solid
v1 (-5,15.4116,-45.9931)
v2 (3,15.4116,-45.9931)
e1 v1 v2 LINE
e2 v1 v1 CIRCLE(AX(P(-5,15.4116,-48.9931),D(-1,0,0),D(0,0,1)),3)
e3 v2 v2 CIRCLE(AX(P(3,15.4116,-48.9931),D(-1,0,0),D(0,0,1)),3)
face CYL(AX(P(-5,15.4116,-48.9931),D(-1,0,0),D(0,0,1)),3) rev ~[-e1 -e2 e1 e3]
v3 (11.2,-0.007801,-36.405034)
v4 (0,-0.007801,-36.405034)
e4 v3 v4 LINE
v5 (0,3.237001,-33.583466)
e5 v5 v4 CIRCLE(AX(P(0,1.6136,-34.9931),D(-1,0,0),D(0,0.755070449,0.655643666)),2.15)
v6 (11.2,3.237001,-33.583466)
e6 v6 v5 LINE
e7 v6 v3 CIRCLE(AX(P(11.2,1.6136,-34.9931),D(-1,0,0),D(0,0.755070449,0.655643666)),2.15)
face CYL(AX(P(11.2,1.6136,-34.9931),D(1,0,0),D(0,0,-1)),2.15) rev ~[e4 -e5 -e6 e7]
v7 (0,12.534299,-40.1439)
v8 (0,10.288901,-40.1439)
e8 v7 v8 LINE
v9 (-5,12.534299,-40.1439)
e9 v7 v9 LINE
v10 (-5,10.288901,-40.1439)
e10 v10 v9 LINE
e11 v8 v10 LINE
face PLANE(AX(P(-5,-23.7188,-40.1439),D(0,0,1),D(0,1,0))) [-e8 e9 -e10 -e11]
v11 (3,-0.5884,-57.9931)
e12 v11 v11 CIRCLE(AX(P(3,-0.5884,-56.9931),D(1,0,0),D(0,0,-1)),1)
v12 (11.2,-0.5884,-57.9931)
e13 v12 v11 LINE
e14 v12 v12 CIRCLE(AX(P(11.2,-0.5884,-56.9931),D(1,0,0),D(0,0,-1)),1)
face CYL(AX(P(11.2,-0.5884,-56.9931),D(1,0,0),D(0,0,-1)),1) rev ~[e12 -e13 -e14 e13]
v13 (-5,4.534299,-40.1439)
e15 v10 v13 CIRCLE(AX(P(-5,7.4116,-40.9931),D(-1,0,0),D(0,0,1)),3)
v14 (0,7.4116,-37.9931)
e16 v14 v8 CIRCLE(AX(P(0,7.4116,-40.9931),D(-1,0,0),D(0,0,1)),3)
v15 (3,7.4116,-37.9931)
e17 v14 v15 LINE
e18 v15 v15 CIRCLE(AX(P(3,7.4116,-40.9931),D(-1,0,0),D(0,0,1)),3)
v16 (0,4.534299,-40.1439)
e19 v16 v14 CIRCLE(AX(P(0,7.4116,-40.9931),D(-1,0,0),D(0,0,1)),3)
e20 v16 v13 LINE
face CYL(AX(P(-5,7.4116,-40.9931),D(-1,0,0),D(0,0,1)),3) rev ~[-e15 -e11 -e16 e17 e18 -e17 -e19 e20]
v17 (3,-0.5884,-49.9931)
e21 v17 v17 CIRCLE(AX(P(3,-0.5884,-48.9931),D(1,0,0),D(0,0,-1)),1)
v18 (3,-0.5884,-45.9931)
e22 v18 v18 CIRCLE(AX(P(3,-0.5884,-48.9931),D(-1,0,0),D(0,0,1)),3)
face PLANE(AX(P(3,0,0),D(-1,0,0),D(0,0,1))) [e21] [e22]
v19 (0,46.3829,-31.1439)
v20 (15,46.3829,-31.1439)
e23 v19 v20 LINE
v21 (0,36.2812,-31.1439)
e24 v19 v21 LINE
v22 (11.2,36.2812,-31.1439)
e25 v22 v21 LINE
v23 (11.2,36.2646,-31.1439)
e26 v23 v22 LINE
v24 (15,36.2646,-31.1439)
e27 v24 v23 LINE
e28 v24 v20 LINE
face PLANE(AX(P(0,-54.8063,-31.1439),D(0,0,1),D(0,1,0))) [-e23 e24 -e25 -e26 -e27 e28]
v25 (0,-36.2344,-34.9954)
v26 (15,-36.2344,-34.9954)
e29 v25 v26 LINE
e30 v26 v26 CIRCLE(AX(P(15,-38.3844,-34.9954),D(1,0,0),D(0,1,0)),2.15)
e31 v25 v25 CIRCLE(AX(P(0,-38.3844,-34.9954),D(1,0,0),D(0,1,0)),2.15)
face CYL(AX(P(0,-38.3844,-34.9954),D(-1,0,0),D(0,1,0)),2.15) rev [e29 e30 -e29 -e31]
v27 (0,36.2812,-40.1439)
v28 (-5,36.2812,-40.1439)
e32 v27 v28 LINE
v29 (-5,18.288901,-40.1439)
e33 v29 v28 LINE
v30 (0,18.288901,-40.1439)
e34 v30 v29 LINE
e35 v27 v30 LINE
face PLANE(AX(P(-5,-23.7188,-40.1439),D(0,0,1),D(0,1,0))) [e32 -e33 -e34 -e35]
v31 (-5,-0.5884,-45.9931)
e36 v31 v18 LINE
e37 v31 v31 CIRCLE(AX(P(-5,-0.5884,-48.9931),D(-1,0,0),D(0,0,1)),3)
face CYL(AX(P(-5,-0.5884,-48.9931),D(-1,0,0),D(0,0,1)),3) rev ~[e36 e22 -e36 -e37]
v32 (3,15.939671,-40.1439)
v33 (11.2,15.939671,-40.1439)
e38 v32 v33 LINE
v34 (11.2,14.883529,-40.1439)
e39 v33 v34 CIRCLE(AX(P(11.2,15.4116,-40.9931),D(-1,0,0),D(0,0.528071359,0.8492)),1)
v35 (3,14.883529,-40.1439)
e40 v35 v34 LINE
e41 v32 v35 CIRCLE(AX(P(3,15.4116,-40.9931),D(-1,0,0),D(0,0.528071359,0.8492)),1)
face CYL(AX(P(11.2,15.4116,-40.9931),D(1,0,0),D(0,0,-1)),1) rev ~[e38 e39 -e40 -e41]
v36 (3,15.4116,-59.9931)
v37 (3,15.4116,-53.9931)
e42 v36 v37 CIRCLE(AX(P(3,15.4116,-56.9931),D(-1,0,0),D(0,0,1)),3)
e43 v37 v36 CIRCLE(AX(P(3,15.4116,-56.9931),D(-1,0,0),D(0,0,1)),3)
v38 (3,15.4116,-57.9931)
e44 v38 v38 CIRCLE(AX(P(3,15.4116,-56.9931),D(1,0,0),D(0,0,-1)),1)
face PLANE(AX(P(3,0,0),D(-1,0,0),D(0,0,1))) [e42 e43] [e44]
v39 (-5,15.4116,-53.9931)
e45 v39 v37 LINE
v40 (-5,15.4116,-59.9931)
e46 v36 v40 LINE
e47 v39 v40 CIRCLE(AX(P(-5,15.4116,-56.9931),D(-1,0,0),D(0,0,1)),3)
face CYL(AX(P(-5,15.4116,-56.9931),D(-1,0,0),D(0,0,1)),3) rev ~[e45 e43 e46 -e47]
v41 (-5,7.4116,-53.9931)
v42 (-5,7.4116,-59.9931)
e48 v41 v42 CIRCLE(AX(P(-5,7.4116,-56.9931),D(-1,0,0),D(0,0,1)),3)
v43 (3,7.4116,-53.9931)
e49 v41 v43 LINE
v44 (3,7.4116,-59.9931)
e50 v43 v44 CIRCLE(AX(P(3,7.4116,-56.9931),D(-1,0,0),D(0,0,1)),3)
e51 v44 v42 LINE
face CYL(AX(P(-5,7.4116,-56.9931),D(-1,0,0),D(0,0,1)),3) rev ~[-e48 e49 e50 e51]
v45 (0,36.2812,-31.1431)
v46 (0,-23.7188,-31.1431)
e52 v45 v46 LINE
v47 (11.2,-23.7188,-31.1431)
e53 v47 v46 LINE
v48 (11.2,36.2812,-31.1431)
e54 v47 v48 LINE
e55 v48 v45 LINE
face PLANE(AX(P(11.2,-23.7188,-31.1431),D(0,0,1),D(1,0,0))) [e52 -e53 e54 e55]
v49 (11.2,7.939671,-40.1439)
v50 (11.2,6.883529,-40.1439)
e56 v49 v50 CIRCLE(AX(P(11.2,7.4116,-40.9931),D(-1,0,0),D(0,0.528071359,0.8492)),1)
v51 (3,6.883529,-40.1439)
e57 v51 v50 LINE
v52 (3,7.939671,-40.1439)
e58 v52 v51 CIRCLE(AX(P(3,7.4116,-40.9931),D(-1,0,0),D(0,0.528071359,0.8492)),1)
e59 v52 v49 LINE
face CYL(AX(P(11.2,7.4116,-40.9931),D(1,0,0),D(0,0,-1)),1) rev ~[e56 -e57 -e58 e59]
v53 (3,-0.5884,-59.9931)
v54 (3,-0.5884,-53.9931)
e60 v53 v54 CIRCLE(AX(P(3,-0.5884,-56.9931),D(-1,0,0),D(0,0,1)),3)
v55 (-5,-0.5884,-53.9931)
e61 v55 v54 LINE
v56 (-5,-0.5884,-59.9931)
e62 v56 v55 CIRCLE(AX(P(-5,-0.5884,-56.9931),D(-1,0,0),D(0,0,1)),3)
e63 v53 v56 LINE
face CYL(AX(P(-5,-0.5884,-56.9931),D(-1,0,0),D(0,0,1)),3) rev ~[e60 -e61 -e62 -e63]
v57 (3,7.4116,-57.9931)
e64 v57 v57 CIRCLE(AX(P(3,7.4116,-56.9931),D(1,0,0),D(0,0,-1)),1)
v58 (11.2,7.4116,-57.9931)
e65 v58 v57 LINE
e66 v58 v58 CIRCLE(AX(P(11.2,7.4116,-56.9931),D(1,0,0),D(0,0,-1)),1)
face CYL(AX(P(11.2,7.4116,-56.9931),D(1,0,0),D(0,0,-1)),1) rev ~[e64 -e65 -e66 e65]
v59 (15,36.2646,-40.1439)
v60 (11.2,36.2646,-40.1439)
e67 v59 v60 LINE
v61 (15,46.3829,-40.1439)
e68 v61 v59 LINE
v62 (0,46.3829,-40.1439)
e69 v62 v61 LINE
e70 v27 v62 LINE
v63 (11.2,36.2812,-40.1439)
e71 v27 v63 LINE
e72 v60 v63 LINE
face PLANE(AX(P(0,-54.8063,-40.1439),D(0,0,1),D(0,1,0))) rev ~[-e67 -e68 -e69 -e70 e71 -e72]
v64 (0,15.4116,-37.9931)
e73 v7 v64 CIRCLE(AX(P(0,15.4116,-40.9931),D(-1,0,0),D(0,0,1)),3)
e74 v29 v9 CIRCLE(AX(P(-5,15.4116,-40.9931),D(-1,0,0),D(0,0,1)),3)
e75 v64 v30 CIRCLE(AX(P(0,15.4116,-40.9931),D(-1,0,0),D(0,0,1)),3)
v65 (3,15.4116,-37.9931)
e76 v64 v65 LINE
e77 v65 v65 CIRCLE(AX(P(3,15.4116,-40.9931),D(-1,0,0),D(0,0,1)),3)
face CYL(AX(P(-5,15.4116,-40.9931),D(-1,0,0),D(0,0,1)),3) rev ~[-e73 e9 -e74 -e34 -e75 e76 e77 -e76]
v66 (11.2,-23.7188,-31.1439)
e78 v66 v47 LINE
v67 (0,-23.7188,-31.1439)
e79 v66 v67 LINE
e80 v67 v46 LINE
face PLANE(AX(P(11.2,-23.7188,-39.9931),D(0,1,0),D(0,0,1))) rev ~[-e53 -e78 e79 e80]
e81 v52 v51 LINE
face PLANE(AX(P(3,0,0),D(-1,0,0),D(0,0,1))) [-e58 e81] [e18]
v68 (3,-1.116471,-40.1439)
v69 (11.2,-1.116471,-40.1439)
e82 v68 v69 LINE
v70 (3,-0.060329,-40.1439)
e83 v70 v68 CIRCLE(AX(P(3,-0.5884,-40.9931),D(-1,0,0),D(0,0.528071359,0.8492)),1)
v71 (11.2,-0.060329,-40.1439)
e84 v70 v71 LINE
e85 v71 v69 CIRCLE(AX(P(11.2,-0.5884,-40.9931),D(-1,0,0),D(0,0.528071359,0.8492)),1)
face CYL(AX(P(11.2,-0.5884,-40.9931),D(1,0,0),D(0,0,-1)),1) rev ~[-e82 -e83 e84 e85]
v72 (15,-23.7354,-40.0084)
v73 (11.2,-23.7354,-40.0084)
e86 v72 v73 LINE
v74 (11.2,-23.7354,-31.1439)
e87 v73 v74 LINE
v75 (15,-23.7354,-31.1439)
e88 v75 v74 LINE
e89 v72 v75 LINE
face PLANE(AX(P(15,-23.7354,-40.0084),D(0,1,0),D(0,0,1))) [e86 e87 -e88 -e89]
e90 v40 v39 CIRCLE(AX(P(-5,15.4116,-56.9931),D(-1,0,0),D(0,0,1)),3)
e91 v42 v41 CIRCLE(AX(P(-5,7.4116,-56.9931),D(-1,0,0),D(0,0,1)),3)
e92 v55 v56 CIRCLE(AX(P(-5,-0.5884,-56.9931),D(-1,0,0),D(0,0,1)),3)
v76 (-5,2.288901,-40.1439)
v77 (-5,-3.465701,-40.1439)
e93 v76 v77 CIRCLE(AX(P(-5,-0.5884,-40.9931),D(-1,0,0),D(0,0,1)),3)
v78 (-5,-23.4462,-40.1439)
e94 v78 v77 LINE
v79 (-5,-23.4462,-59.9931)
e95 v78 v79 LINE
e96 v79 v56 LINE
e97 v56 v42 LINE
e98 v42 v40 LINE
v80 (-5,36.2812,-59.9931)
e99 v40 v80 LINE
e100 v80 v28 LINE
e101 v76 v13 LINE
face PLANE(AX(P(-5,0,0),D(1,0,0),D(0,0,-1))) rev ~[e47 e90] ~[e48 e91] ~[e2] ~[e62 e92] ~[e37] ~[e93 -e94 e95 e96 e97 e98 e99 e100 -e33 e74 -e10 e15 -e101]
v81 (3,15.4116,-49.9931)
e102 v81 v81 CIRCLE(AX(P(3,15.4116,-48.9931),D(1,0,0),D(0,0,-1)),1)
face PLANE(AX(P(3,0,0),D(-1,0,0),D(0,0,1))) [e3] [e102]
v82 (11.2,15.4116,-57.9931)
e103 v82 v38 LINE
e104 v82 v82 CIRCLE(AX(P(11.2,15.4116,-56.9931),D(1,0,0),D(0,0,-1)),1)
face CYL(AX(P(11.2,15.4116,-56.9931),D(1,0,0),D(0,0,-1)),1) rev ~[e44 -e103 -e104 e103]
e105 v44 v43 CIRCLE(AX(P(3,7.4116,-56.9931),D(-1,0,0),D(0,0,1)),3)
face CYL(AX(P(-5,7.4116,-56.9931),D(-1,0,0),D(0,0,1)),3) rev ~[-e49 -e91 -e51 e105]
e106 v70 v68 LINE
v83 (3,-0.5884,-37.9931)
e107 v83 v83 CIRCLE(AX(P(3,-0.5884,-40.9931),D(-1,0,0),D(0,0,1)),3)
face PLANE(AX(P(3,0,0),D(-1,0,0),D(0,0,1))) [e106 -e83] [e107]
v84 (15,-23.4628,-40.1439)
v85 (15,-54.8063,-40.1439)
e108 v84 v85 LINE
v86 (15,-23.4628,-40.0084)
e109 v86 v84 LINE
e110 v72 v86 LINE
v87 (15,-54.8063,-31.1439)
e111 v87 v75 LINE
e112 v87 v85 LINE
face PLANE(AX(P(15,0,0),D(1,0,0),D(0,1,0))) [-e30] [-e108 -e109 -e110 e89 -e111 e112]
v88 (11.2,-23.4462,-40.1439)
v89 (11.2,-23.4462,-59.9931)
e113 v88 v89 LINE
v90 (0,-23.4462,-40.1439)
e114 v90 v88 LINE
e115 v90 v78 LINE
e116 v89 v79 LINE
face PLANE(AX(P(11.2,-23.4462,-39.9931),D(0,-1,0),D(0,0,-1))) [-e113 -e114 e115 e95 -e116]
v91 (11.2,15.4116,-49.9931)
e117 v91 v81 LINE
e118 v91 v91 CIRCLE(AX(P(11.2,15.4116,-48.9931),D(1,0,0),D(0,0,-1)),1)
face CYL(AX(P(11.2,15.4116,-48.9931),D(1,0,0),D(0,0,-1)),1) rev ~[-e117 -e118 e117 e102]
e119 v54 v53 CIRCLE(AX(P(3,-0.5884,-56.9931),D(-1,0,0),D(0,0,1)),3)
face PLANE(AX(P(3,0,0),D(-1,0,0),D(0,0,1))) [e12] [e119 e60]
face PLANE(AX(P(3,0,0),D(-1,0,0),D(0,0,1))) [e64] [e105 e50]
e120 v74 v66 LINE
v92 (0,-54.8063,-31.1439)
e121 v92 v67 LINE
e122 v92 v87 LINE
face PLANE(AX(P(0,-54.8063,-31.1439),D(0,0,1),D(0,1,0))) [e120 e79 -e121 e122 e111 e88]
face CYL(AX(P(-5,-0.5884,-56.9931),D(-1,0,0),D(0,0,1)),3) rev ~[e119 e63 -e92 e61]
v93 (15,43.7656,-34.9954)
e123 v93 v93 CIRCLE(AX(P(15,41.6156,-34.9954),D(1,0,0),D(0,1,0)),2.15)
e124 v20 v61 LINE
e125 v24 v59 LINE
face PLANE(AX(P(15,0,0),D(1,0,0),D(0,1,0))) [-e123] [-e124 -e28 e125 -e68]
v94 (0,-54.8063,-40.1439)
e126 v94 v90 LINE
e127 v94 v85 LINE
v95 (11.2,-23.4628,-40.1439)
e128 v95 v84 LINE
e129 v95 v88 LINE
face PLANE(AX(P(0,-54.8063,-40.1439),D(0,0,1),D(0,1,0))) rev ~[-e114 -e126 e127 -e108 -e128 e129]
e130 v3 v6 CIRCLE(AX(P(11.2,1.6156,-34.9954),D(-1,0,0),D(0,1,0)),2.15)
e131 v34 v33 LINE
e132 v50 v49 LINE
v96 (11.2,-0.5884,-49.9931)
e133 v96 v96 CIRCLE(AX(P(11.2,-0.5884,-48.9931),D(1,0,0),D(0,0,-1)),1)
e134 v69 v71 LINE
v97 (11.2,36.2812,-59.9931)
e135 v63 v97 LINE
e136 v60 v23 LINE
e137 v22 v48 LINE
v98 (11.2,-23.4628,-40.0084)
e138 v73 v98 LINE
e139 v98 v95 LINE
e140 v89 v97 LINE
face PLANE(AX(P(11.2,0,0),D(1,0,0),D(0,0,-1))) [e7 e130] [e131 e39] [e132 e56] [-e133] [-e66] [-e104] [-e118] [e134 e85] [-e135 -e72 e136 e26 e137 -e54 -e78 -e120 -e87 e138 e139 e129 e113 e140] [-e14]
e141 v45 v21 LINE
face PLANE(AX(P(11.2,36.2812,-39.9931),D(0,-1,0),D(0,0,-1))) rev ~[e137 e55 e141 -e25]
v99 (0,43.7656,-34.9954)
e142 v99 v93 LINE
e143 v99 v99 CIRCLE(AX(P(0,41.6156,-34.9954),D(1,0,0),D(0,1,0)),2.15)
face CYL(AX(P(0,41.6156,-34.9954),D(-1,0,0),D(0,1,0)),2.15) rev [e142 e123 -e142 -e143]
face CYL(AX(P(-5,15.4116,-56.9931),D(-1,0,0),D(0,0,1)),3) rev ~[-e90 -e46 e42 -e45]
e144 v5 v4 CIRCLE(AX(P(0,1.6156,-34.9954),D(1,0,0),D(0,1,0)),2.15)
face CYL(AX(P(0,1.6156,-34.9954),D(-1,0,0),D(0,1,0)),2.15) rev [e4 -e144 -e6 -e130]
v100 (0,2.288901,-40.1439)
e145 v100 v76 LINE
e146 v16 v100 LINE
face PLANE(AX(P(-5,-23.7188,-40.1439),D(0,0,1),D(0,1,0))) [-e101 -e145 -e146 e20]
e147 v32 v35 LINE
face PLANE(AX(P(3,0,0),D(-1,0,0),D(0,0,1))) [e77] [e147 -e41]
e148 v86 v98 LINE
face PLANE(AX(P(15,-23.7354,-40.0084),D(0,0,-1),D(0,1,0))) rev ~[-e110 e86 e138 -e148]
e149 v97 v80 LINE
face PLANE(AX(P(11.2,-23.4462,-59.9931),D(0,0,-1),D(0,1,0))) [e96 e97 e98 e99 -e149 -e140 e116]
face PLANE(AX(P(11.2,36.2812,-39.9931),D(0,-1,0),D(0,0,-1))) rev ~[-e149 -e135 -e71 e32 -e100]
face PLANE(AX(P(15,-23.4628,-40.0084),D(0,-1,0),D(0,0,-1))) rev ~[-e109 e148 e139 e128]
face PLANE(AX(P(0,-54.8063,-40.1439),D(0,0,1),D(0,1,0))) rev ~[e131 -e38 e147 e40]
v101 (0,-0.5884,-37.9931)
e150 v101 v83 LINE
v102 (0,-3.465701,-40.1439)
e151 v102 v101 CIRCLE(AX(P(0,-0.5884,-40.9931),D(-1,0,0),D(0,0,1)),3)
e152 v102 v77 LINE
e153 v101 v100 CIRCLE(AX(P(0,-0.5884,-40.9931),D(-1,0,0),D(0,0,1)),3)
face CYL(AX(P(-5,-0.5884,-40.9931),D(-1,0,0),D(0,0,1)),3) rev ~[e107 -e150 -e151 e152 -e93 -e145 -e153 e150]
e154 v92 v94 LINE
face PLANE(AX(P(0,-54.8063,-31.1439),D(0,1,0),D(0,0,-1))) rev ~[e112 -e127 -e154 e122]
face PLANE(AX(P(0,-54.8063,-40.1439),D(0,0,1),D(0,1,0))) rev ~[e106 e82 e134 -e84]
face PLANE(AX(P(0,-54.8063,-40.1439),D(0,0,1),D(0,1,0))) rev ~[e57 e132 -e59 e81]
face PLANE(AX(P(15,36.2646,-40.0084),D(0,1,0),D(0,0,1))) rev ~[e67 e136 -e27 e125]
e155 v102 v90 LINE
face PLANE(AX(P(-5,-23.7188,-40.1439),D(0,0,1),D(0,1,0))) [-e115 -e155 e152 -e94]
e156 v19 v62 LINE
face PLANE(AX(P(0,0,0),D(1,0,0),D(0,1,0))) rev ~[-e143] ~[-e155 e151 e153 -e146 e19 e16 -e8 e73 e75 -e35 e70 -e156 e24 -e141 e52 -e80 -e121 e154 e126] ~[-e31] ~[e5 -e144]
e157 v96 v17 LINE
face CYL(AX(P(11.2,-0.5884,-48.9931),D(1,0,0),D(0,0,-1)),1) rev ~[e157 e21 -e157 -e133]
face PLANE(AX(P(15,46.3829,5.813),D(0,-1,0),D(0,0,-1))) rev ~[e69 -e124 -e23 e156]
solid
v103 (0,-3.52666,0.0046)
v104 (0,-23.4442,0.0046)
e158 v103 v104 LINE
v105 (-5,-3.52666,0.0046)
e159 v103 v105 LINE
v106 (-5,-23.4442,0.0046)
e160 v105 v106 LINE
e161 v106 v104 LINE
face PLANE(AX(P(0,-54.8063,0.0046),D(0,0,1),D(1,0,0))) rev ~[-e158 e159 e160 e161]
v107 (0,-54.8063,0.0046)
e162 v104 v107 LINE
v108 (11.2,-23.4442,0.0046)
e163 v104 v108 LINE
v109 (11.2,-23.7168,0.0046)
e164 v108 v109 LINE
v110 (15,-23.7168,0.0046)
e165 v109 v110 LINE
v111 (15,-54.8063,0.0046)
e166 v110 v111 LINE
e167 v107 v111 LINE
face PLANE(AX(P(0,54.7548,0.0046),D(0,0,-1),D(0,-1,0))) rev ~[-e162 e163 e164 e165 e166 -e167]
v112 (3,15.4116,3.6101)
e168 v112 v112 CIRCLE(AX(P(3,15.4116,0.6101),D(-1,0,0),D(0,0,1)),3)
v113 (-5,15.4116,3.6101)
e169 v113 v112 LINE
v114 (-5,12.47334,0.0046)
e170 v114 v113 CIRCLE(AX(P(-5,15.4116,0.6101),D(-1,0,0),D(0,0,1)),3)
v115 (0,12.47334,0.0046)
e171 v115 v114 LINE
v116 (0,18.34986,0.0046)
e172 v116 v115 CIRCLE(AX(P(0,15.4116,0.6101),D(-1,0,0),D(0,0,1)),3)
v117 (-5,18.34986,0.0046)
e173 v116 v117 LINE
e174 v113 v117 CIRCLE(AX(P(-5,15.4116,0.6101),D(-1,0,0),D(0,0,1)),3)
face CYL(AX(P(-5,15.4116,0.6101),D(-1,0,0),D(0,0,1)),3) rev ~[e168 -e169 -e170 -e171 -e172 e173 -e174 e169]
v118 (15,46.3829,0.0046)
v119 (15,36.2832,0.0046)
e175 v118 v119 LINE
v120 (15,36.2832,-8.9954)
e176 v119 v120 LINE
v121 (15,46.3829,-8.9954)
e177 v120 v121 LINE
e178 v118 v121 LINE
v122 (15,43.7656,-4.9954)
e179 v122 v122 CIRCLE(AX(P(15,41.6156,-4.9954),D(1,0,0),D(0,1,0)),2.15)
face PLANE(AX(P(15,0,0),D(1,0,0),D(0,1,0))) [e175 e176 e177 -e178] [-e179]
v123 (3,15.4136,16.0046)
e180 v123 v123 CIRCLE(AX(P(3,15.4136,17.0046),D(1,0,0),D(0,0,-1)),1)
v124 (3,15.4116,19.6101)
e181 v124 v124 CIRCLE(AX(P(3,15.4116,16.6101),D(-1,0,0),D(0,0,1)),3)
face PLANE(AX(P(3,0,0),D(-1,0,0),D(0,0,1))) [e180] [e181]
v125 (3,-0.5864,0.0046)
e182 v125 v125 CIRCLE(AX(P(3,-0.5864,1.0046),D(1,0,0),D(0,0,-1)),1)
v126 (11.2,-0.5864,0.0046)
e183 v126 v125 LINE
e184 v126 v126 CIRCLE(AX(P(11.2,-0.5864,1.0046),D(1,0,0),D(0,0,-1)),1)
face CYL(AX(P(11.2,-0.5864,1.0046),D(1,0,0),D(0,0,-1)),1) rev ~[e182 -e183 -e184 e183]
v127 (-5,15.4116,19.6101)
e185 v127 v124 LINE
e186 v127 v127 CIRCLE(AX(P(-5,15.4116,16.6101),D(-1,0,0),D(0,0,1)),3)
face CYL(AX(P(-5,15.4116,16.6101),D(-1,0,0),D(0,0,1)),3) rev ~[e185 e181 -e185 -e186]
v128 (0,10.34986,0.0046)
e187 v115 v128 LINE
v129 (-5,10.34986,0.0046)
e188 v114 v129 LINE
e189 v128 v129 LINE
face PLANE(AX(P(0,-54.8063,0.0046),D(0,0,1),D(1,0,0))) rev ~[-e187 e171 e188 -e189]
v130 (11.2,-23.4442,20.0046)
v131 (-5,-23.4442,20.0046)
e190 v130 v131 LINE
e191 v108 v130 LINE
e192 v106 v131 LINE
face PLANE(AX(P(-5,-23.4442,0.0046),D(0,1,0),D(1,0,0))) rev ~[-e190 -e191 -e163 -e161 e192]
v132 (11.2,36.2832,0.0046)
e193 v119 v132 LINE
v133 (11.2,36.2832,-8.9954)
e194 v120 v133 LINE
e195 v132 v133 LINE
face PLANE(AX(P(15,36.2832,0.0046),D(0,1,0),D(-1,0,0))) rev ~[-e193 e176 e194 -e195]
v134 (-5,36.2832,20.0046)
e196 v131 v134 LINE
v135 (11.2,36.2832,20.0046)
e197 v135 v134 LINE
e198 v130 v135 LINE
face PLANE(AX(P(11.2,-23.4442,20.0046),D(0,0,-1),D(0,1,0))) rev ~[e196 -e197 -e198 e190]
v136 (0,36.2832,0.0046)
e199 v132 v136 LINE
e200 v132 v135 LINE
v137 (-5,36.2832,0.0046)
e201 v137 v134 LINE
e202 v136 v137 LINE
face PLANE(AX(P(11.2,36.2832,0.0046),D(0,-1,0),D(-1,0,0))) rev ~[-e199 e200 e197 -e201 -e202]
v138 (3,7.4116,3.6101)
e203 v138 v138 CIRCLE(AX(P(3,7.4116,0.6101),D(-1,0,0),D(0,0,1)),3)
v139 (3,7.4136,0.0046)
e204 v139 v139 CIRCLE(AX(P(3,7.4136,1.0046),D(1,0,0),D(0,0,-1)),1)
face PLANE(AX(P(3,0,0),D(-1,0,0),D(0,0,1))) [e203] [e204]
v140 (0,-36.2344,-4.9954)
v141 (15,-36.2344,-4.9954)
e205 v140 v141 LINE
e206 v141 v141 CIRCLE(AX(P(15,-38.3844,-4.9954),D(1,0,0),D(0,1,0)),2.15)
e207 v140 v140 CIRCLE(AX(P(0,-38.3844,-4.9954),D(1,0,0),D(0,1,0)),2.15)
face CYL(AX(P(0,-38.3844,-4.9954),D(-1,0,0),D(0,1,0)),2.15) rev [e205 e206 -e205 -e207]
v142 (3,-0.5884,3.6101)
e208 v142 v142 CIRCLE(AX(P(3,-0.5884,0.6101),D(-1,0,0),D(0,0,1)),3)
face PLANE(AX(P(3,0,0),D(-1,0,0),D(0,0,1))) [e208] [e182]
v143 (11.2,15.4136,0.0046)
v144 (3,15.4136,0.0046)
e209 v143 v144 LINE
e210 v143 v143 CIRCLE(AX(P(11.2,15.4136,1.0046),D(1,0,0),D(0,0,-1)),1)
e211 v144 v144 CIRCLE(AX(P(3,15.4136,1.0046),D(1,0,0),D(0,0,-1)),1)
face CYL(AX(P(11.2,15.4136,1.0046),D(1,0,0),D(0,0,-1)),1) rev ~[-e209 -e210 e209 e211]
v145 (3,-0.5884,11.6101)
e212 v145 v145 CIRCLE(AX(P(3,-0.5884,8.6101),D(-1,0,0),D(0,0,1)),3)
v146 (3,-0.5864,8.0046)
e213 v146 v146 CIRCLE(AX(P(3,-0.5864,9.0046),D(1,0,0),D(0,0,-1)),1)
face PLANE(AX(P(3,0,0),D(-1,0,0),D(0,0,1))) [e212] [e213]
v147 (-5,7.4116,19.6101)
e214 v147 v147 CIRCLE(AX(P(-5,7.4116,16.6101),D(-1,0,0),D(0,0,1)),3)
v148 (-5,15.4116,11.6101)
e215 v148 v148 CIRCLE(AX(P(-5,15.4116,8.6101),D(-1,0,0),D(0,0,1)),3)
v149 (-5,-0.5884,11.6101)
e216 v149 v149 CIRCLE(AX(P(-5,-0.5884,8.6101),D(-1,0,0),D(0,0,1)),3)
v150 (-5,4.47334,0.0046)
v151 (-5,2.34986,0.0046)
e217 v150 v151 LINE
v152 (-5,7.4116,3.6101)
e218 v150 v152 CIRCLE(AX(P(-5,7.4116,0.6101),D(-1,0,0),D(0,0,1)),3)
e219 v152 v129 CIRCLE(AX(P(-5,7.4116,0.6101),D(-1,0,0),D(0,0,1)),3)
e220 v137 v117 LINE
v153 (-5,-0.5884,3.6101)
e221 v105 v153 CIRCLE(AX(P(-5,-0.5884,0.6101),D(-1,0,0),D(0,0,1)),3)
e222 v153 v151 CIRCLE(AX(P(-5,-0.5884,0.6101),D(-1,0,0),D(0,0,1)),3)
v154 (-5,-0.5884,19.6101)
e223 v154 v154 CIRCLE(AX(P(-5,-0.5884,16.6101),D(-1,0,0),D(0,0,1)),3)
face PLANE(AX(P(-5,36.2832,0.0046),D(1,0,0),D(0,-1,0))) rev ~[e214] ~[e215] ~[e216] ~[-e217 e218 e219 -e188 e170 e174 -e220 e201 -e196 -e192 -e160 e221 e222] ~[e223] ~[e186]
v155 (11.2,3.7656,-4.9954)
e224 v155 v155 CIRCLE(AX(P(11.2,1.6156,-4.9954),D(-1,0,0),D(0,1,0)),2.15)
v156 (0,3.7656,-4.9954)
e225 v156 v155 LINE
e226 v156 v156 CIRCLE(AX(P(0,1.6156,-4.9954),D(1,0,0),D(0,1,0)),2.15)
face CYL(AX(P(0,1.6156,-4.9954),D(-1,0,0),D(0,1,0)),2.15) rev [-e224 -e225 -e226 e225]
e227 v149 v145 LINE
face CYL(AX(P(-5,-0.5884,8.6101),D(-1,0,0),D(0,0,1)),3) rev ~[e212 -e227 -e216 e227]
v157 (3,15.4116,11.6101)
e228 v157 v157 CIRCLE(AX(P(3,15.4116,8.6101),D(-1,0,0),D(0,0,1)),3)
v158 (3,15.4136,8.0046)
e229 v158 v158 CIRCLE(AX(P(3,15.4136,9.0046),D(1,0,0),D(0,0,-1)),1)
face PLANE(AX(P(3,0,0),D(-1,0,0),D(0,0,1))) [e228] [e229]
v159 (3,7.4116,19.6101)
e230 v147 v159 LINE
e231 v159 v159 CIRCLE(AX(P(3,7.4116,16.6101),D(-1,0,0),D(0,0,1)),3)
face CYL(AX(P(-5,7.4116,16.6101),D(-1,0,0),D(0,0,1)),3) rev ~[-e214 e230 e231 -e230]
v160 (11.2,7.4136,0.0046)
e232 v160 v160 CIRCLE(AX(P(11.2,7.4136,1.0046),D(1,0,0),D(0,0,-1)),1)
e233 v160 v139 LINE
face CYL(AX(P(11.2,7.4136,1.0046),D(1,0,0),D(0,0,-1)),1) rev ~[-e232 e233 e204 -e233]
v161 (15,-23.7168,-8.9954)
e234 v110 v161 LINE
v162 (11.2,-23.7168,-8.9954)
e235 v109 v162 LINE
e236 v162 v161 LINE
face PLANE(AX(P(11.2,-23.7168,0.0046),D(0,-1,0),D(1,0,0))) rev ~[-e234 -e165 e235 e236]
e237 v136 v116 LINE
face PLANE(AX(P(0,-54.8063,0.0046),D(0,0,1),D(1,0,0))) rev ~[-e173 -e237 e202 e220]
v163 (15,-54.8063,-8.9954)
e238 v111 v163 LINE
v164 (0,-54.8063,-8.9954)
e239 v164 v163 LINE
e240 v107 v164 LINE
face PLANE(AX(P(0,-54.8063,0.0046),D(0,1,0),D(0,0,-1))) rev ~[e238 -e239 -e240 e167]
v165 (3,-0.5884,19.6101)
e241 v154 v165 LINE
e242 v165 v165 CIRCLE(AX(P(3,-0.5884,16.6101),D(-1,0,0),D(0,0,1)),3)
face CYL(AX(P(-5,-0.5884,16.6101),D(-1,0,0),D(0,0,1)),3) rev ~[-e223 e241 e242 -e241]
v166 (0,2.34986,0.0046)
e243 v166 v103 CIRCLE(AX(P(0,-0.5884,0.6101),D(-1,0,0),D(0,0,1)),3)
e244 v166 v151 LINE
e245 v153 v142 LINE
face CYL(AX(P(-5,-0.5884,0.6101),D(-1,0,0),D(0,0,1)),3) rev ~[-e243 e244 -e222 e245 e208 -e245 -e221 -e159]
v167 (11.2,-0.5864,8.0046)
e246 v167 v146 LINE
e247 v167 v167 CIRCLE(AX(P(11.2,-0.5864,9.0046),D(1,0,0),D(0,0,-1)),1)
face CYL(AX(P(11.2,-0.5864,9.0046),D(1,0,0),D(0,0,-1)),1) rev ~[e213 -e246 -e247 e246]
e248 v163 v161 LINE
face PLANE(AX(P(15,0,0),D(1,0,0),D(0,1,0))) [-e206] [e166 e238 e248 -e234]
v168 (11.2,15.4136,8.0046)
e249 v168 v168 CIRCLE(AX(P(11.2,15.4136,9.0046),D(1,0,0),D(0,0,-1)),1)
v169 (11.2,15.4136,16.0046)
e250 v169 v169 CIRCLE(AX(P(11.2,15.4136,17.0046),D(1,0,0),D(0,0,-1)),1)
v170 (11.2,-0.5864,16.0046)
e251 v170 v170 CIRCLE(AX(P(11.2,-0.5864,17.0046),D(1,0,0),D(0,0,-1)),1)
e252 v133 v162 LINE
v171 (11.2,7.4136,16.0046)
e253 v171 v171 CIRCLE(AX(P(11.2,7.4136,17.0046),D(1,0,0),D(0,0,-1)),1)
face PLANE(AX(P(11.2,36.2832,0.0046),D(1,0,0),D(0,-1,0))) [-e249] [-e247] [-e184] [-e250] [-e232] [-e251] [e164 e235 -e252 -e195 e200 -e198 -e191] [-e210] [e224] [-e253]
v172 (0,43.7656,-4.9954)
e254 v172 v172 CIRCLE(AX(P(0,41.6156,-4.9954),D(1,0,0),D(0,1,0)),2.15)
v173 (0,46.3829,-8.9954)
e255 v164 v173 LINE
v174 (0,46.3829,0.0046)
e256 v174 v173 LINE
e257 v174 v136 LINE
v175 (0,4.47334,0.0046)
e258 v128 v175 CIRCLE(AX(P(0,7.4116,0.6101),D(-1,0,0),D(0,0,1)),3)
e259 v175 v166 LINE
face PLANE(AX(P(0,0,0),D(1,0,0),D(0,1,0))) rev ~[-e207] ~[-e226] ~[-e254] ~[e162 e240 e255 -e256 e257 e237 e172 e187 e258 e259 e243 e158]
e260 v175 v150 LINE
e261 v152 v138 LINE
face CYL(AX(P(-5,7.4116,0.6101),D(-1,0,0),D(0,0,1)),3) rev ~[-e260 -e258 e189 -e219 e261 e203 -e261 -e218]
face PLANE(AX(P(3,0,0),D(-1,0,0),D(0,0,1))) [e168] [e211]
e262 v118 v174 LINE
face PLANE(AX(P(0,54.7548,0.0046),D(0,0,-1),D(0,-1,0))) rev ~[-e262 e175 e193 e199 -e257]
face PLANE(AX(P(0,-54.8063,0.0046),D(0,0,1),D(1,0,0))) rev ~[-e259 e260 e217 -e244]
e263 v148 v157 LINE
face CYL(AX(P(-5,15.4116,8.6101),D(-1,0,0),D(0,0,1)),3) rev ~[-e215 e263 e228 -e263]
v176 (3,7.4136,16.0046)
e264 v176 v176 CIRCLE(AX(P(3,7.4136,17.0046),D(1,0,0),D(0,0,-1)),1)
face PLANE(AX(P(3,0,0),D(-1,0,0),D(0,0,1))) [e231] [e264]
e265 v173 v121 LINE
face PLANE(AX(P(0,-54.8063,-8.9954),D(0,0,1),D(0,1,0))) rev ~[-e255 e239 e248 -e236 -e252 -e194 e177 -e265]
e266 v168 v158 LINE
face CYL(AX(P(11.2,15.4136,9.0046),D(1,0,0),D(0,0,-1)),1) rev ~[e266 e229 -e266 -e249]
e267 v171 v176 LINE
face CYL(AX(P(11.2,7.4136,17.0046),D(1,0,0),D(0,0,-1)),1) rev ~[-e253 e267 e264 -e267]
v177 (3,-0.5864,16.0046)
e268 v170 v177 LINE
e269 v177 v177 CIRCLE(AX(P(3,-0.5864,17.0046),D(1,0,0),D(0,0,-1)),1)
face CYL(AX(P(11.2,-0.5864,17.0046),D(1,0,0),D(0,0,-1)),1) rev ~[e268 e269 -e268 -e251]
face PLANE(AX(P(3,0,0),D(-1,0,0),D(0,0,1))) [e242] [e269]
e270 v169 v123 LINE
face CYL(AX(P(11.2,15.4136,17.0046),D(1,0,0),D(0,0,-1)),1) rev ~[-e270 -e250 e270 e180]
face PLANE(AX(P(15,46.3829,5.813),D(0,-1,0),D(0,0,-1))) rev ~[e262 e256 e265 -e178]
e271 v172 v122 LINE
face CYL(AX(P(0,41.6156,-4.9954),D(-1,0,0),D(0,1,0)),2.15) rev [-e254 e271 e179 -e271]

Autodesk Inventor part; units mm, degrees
ref_plane "YZ Plane" through (0, 0, 0) normal (1, 0, 0) x (0, 1, 0)
ref_plane "XZ Plane" through (0, 0, 0) normal (0, 1, 0) x (-1, 0, 0)
ref_plane "XY Plane" through (0, 0, 0) normal (0, 0, 1) x (1, 0, 0)
sketch "Esquisse1" plane through (0, 0, 0) normal (1, 0, 0) x (0, 1, 0)
  line L0 (-54.8063, -40.1439) -> (54.7548, -40.1439)
  line L1 (54.7548, 0.0046) -> (-54.8063, 0.0046)
  line L2 (41.6156, -39.9954) -> (41.6156, -34.9954) construction
  line L3 (41.6156, -34.9954) -> (-43.4679, -34.9954) construction
  circle A0 centre (41.6156, -34.9954) radius 2.15
  circle A1 centre (1.6156, -34.9954) radius 2.15
  circle A2 centre (-38.3844, -34.9954) radius 2.15
  circle A3 centre (41.6156, -4.9954) radius 2.15
  circle A4 centre (1.6156, -4.9954) radius 2.15
  circle A5 centre (-38.3844, -4.9954) radius 2.15
  line L4 (-38.3844, 0.0046) -> (-38.3844, -4.9954) construction
  line L5 (54.7548, -40.1439) -> (59.7548, -40.1439)
  line L6 (59.7548, -40.1439) -> (59.7548, 0.0046)
  line L7 (59.7548, 0.0046) -> (54.7548, 0.0046)
  line L8 (-54.8063, -31.1439) -> (55.1937, -31.1439)
  line L9 (-54.8063, -8.9954) -> (55.1937, -8.9954)
  line L10 (-54.8063, 0.0046) -> (-54.8063, -8.9954)
  line L11 (-54.8063, -31.1439) -> (-54.8063, -40.1439)
  line L12 (55.1937, -31.1439) -> (55.1937, -8.9954)
  line L13 (-54.8063, -31.1439) -> (-54.8063, -40.1439)
  line L14 (-54.8063, -40.1439) -> (59.7548, -40.1439)
  line L15 (59.7548, -40.1439) -> (59.7548, 0.0046)
  line L16 (59.7548, 0.0046) -> (-54.8063, 0.0046)
  line L17 (-54.8063, 0.0046) -> (-54.8063, -8.9954)
  line L18 (-54.8063, -8.9954) -> (55.1937, -8.9954)
  line L19 (55.1937, -8.9954) -> (55.1937, -31.1439)
  line L20 (55.1937, -31.1439) -> (-54.8063, -31.1439)
  point P0 (0, 0)
  point P1 (60.2697, -11.7227)
  dimension "d4" = 5
  dimension "d5" = 4.3
  dimension "d6" = 40
  dimension "d7" = 30
  dimension "d8" = 5
  dimension "d9" = 5
  dimension "d10" = 110
  dimension "d11" = 9
  dimension "d12" = 110
  dimension "d14" = 40.1485
  dimension "d15" = 9
extrude "Extrusion1" add sketch "Esquisse1" along normal blind 15
sketch "Esquisse2" plane through (0, 59.7548, 0.0046) normal (0, 1, 0) x (1, 0, 0)
  point P0 (0, 0.0046)
sketch "Esquisse3" plane through (0, 59.7548, 0.0046) normal (0, 1, 0) x (1, 0, 0)
  line L0 (-4.433, 21.1485) -> (-2.433, 21.1485)
  arc A0 (11.3752, 24.099) -> (-2.433, 21.1485) centre (5, 20.1485) ccw
  line L1 (11.3752, 24.099) -> (12.5262, 24.099)
  arc A1 (12.5262, 24.099) -> (5, 28.6485) centre (5, 20.1485) ccw
  line L2 (5, 28.6485) -> (5, 30.0821)
  line L3 (5, 30.0821) -> (0, 30.0821)
  line L4 (0, 30.0821) -> (0, 40.1485)
  line L5 (-5.0769, 40.1485) -> (0, 40.1485)
  line L6 (-5.0769, 0.1485) -> (-5.0769, 40.1485)
  line L7 (0, 0.1485) -> (-5.0769, 0.1485)
  line L8 (0, 10.1485) -> (0, 0.1485)
  line L9 (0, 10.1485) -> (5, 10.1485)
  line L10 (5, 10.1485) -> (5, 11.6485)
  arc A2 (5, 11.6485) -> (12.5262, 16.1979) centre (5, 20.1485) ccw
  line L11 (12.5262, 16.1979) -> (11.3752, 16.1979)
  arc A3 (-2.433, 19.1485) -> (11.3752, 16.1979) centre (5, 20.1485) ccw
  line L12 (-2.433, 19.1485) -> (-4.433, 19.1485)
  line L13 (-4.433, 19.1485) -> (-4.433, 21.1485)
  line L14 (0, 0) -> (0, 9) projected
  line L15 (0, 40.1485) -> (0, 0)
  point P0 (0, 0.0046)
  point P1 (-5.0769, 30.0821)
sketch "Esquisse4" plane through (0, 59.7548, 0.0046) normal (0, 1, 0) x (1, 0, 0)
  circle A0 centre (5.0199, 20.1961) radius 6
  circle A1 centre (5.0199, 20.1961) radius 6
  point P0 (0, 0.0046)
  dimension "d18" = 12
extrude "Extrusion2" cut sketch "Esquisse4" against normal blind 15
sketch "Esquisse5" plane through (0, -54.8063, 0.0046) normal (0, 0, 1) x (1, 0, 0)
  line L0 (15, 114.5611) -> (15, 0) construction
  line L1 (15, 114.5611) -> (11.2, 114.5611) construction
  line L2 (0, 114.5611) -> (15, 114.5611) construction
  line L3 (11.2, 114.5611) -> (11.2, 58.3541) construction
  line L4 (15, 91.0895) -> (11.2, 91.0895)
  line L5 (11.2, 91.0895) -> (11.2, 31.0895)
  line L6 (11.2, 31.0895) -> (15, 31.0895)
  line L7 (15, 31.0895) -> (15, 91.0895)
  point P0 (0, 54.8063)
  dimension "d21" = 3.8
  dimension "d22" = 60
extrude "Extrusion3" cut sketch "Esquisse5" against normal blind 15
sketch "Esquisse6" plane through (0, -54.8063, 0.0046) normal (0, 0, 1) x (1, 0, 0)
  line L0 (11.2, 91.0895) -> (11.2, 31.0895) projected
  line L1 (11.2, 91.0895) -> (-5, 91.0895)
  line L2 (-5, 91.0895) -> (-5, 31.3621)
  line L3 (-5, 31.3621) -> (11.2, 31.3621)
  line L4 (11.2, 31.3621) -> (11.2, 91.0895)
  point P0 (0, 54.8063)
  dimension "d25" = 16.2
extrude "Extrusion4" add sketch "Esquisse6" along normal blind 30
sketch "Esquisse7" plane through (11.2, -23.7168, -8.9954) normal (1, 0, 0) x (0, 0, -1)
  line L0 (0, 60) -> (0, 0) projected
  line L1 (-9, 60) -> (0, 60) projected
  line L2 (-9, 60) -> (-39, 60) projected
  line L3 (-39, 0.2726) -> (-39, 60) projected
  line L4 (-9, 0.2726) -> (-39, 0.2726) projected
  line L5 (-9, 0) -> (-9, 0.2726) projected
  line L6 (-9, 0) -> (0, 0) projected
  circle A0 centre (-4, 25.3324) radius 2.15 projected
  circle A1 centre (-10, 31.1304) radius 1
  circle A2 centre (-18, 39.1304) radius 1
  circle A3 centre (-26, 39.1304) radius 1
  circle A4 centre (-26, 31.1304) radius 1
  circle A5 centre (-26, 23.1304) radius 1
  circle A6 centre (-18, 23.1304) radius 1
  circle A7 centre (-10, 23.1304) radius 1
  circle A8 centre (-10, 39.1304) radius 1
  point P0 (-8.9954, 23.7168)
  dimension "d28" = 10
  dimension "d29" = 16
  dimension "d30" = 8
  dimension "d31" = 8
  dimension "d32" = 8
  dimension "d33" = 8
  dimension "d34" = 8
  dimension "d35" = 8
extrude "Extrusion5" cut sketch "Esquisse7" against normal blind 30 contours A1 | A2 | A3 | A4 | A5 | A6 | A7 | A8
sketch "Esquisse8" plane through (15, 0, 0) normal (1, 0, 0) x (0, 0, -1)
  line L0 (-0.0046, 36.2832) -> (8.9954, 36.2832) projected
  line L1 (8.9954, 36.2832) -> (8.9954, 55.1937) projected
  line L2 (8.9954, 55.1937) -> (31.1439, 55.1937) projected
  line L3 (31.1439, 55.1937) -> (31.1439, -54.8063) projected
  line L4 (31.1439, -54.8063) -> (40.1439, -54.8063) projected
  line L5 (40.1439, -54.8063) -> (40.1439, 59.7548) projected
  line L6 (40.1439, 59.7548) -> (-0.0046, 59.7548) projected
  line L7 (-0.0046, 59.7548) -> (-0.0046, 36.2832) projected
  circle A0 centre (4.9954, 41.6156) radius 2.15 projected
  circle A1 centre (34.9954, -38.3844) radius 2.15 projected
  circle A2 centre (34.9954, 1.6156) radius 2.15 projected
  circle A3 centre (34.9954, 41.6156) radius 2.15 projected
  point P0 (0, 0)
sketch "Esquisse9" plane through (11.2, -23.7168, -8.9954) normal (1, 0, 0) x (0, 0, -1)
  circle A0 centre (-10, 23.1304) radius 1 projected
  circle A1 centre (-26, 23.1304) radius 1 projected
  circle A2 centre (-26, 39.1304) radius 1 projected
  circle A3 centre (-10, 31.1304) radius 1 projected
  circle A4 centre (-18, 39.1304) radius 1 projected
  circle A5 centre (-26, 31.1304) radius 1 projected
  circle A6 centre (-18, 23.1304) radius 1 projected
  circle A7 centre (-10, 39.1304) radius 1 projected
  line L0 (0, 60) -> (0, 0) projected
  line L1 (-9, 60) -> (0, 60) projected
  line L2 (-9, 60) -> (-39, 60) projected
  line L3 (-39, 0.2726) -> (-39, 60) projected
  line L4 (-9, 0.2726) -> (-39, 0.2726) projected
  line L5 (-9, 0) -> (-9, 0.2726) projected
  line L6 (-9, 0) -> (0, 0) projected
  circle A8 centre (-4, 25.3324) radius 2.15 projected
  point P0 (-8.9954, 23.7168)
sketch "Esquisse10" plane through (15, 0, 0) normal (1, 0, 0) x (0, 0, -1)
  line L0 (31.0084, 36.2646) -> (31.0084, -23.7354)
  circle A0 centre (41.0084, -0.605) radius 1
  circle A1 centre (57.0084, -0.605) radius 1
  circle A2 centre (57.0084, 15.395) radius 1
  circle A3 centre (41.0084, 7.395) radius 1
  circle A4 centre (49.0084, 15.395) radius 1
  circle A5 centre (57.0084, 7.395) radius 1
  circle A6 centre (49.0084, -0.605) radius 1
  circle A7 centre (41.0084, 15.395) radius 1
  line L1 (40.0084, 36.2646) -> (31.0084, 36.2646)
  line L2 (40.0084, 36.2646) -> (70.0084, 36.2646)
  line L3 (70.0084, -23.4628) -> (70.0084, 36.2646)
  line L4 (40.0084, -23.4628) -> (70.0084, -23.4628)
  line L5 (40.0084, -23.7354) -> (40.0084, -23.4628)
  line L6 (40.0084, -23.7354) -> (31.0084, -23.7354)
  circle A8 centre (35.0084, 1.597) radius 2.15
  point P0 (0, 0)
  point P1 (40.0039, -0.0185)
extrude "Extrusion6" cut sketch "Esquisse10" against normal blind 3.8 contours L1 L2 L3 L4 L5 L6 L0 | A0 | A1 | A2 | A3 | A4 | A5 | A6 | A7 | A8
sketch "Esquisse11" plane through (11.2, 0, 0) normal (1, 0, 0) x (0, 0, -1)
  circle A0 centre (34.9954, 1.6156) radius 2.15 projected
  line L0 (31.1439, -23.7354) -> (31.1439, 36.2646) projected
  line L1 (40.0084, -23.7354) -> (31.1439, -23.7354) projected
  line L2 (40.0084, -23.4628) -> (40.0084, -23.7354) projected
  line L3 (40.1439, -23.4628) -> (40.0084, -23.4628) projected
  line L4 (40.1439, 36.2646) -> (40.1439, -23.4628) projected
  line L5 (31.1439, 36.2646) -> (40.1439, 36.2646) projected
  point P0 (0, 0)
sketch "Esquisse12" plane through (11.2, 0, 0) normal (1, 0, 0) x (0, 0, -1)
  point P0 (-8.9954, 23.7168)
sketch "Esquisse13" plane through (11.2, 0, 0) normal (1, 0, 0) x (0, 0, -1)
  line L0 (30.9931, 36.2812) -> (30.9931, -23.7188)
  circle A0 centre (40.9931, -0.5884) radius 1
  circle A1 centre (56.9931, -0.5884) radius 1
  circle A2 centre (56.9931, 15.4116) radius 1
  circle A3 centre (40.9931, 7.4116) radius 1
  circle A4 centre (48.9931, 15.4116) radius 1
  circle A5 centre (56.9931, 7.4116) radius 1
  circle A6 centre (48.9931, -0.5884) radius 1
  circle A7 centre (40.9931, 15.4116) radius 1
  line L1 (39.9931, 36.2812) -> (30.9931, 36.2812)
  line L2 (39.9931, 36.2812) -> (69.9931, 36.2812)
  line L3 (69.9931, -23.4462) -> (69.9931, 36.2812)
  line L4 (39.9931, -23.4462) -> (69.9931, -23.4462)
  line L5 (39.9931, -23.7188) -> (39.9931, -23.4462)
  line L6 (39.9931, -23.7188) -> (30.9931, -23.7188)
  circle A8 centre (34.9931, 1.6136) radius 2.15
  point P0 (0, 0)
  point P1 (39.9885, -0.002)
extrude "Extrusion7" add sketch "Esquisse13" against normal blind 16.2
sketch "Esquisse14" plane through (-5, 0, 0) normal (-1, 0, 0) x (0, 0, 1)
  circle A0 centre (-56.9931, -0.5884) radius 1 projected
  circle A1 centre (-56.9931, 7.4116) radius 1 projected
  circle A2 centre (-56.9931, 15.4116) radius 1 projected
  circle A3 centre (-48.9931, 15.4116) radius 1 projected
  circle A4 centre (-48.9931, -0.5884) radius 1 projected
  circle A5 centre (-40.9931, -0.5884) radius 1 projected
  circle A6 centre (-40.9931, 7.4116) radius 1 projected
  circle A7 centre (-40.9931, 15.4116) radius 1 projected
  circle A8 centre (-56.9931, -0.5884) radius 1 projected
  circle A9 centre (-56.9931, -0.5884) radius 3
  line L0 (-56.9931, -0.5884) -> (-56.9931, 15.4116) construction
  line L1 (-56.9931, 15.4116) -> (-40.9931, 15.4116) construction
  circle A10 centre (-56.9931, 7.4116) radius 3
  circle A11 centre (-56.9931, 15.4116) radius 3
  circle A12 centre (-48.9931, -0.5884) radius 3
  circle A13 centre (-48.9931, 7.4116) radius 3
  circle A14 centre (-48.9931, 15.4116) radius 3
  circle A15 centre (-40.9931, -0.5884) radius 3
  circle A16 centre (-40.9931, 7.4116) radius 3
  circle A17 centre (-40.9931, 15.4116) radius 3
  line L2 (-26.1915, 59.7548) -> (-14.1915, 59.7548) construction
  line L3 (-20.1915, 59.7548) -> (-20.1915, -51.3949) construction
  circle A18 centre (16.6101, -0.5884) radius 1
  circle A19 centre (16.6101, 7.4116) radius 1
  circle A20 centre (16.6101, 15.4116) radius 1
  circle A21 centre (8.6101, 15.4116) radius 1
  circle A22 centre (8.6101, -0.5884) radius 1
  circle A23 centre (0.6101, -0.5884) radius 1
  circle A24 centre (0.6101, 7.4116) radius 1
  circle A25 centre (0.6101, 15.4116) radius 1
  circle A26 centre (16.6101, -0.5884) radius 1
  circle A27 centre (16.6101, -0.5884) radius 3
  line L4 (16.6101, -0.5884) -> (16.6101, 15.4116) construction
  line L5 (16.6101, 15.4116) -> (0.6101, 15.4116) construction
  circle A28 centre (16.6101, 7.4116) radius 3
  circle A29 centre (16.6101, 15.4116) radius 3
  circle A30 centre (8.6101, -0.5884) radius 3
  circle A31 centre (8.6101, 7.4116) radius 3
  circle A32 centre (8.6101, 15.4116) radius 3
  circle A33 centre (0.6101, -0.5884) radius 3
  circle A34 centre (0.6101, 7.4116) radius 3
  circle A35 centre (0.6101, 15.4116) radius 3
  point P0 (0, 0)
  point P1 (-23.478, 59.7548)
  point P2 (-16.9051, 59.7548)
  dimension "d44" = 6
  dimension "d47" = 8
  dimension "d50" = 8
extrude "Extrusion8" cut sketch "Esquisse14" against normal blind 8 contours A0 | A1 | A2 | A3 | A4 | A5 | A6 | A7 | A9 | A10 | A11 | A12 | A14 | A15 | A16 | A17 | A18 | A19 | A20 | A21 | A22 | A23 | A24 | A25 | A27 | A28 | A29 | A30 | A32 | A33 | A34 | A35
sketch "Esquisse15" plane through (-5, 0, 0) normal (-1, 0, 0) x (0, 0, 1)
  line L0 (-39.9931, -23.7188) -> (-30.9931, -23.7188) projected
  line L1 (-40.1439, 36.2646) -> (-40.1439, 59.7548) projected
  line L2 (-30.9931, -23.7188) -> (-40.1439, -23.7188)
  line L3 (-40.1439, -23.7188) -> (-40.1439, 36.2646)
  line L4 (-40.1439, 36.2646) -> (-30.9931, 36.2646)
  line L5 (-30.9931, 36.2646) -> (-30.9931, -23.7188)
  line L6 (-40.1439, 36.2646) -> (-30.9931, 36.2646)
  line L7 (-30.9931, 36.2646) -> (-30.9931, 36.6984)
  line L8 (-30.9931, 36.6984) -> (-40.1439, 36.6984)
  line L9 (-40.1439, 36.6984) -> (-40.1439, 36.2646)
  point P0 (0, 0)
extrude "Extrusion9" cut sketch "Esquisse15" against normal blind 5
sketch "Esquisse16" plane through (11.2, -23.7188, -30.9931) normal (0, 0, 1) x (1, 0, 0)
  line L0 (-11.2, 60) -> (-11.2, 0) projected
  line L1 (0, 0) -> (-11.2, 0) projected
  line L2 (0, 0) -> (0, 60) projected
  line L3 (0, 60) -> (-11.2, 60) projected
  point P0 (-11.2, 23.7188)
extrude "Extrusion10" cut sketch "Esquisse16" against normal blind 0.15
sketch "Esquisse17" plane through (11.2, 0, 0) normal (1, 0, 0) x (0, 0, -1)
  line L0 (31.1431, 36.2812) -> (31.1431, -23.7188) projected
  line L1 (31.1439, -23.7188) -> (31.1431, -23.7188) projected
  line L2 (31.1439, -23.7354) -> (31.1439, -23.7188) projected
  line L3 (40.0084, -23.7354) -> (31.1439, -23.7354) projected
  line L4 (40.0084, -23.4628) -> (40.0084, -23.7354) projected
  line L5 (40.1439, -23.4628) -> (40.0084, -23.4628) projected
  line L6 (40.1439, -23.4462) -> (40.1439, -23.4628) projected
  line L7 (69.9931, -23.4462) -> (40.1439, -23.4462) projected
  line L8 (69.9931, 36.2812) -> (69.9931, -23.4462) projected
  line L9 (40.1439, 36.2812) -> (69.9931, 36.2812) projected
  line L10 (40.1439, 36.2646) -> (40.1439, 36.2812) projected
  line L11 (31.1439, 36.2646) -> (40.1439, 36.2646) projected
  line L12 (31.1439, 36.2812) -> (31.1439, 36.2646) projected
  line L13 (31.1431, 36.2812) -> (31.1439, 36.2812) projected
  line L14 (40.1439, -0.0603) -> (40.1439, -1.1165) projected
  arc A0 (40.1439, -1.1165) -> (40.1439, -0.0603) centre (40.9931, -0.5884) ccw projected
  line L15 (40.1439, 7.9397) -> (40.1439, 6.8835) projected
  arc A1 (40.1439, 6.8835) -> (40.1439, 7.9397) centre (40.9931, 7.4116) ccw projected
  line L16 (40.1439, 15.9397) -> (40.1439, 14.8835) projected
  arc A2 (40.1439, 14.8835) -> (40.1439, 15.9397) centre (40.9931, 15.4116) ccw projected
  circle A3 centre (48.9931, -0.5884) radius 1 projected
  circle A4 centre (56.9931, -0.5884) radius 1 projected
  circle A5 centre (56.9931, 7.4116) radius 1 projected
  circle A6 centre (48.9931, 15.4116) radius 1 projected
  circle A7 centre (56.9931, 15.4116) radius 1 projected
  arc A8 (33.6113, 3.2608) -> (36.3772, -0.0316) centre (34.9954, 1.6156) ccw projected
  arc A9 (36.3772, -0.0316) -> (33.6113, 3.2608) centre (34.9931, 1.6136) ccw projected
  line L17 (69.9931, -23.4462) -> (40.1439, -23.4462) projected
  line L18 (59.9931, -23.4462) -> (59.9931, 36.2812)
  line L19 (40.1439, 36.2812) -> (69.9931, 36.2812) projected
  line L20 (26.1915, 55.1937) -> (14.1915, 55.1937) construction
  line L21 (20.1915, 55.1937) -> (20.1915, -54.679) construction
  line L22 (-19.6101, -23.4462) -> (-19.6101, 36.2812)
  circle A10 centre (-1.0046, -0.5864) radius 1 projected
  circle A11 centre (-17.0046, -0.5864) radius 1 projected
  circle A12 centre (-17.0046, 15.4136) radius 1 projected
  circle A13 centre (-1.0046, 7.4136) radius 1 projected
  circle A14 centre (-9.0046, 15.4136) radius 1 projected
  circle A15 centre (-17.0046, 7.4136) radius 1 projected
  circle A16 centre (-9.0046, -0.5864) radius 1 projected
  circle A17 centre (-1.0046, 15.4136) radius 1 projected
  line L23 (8.9954, 36.2832) -> (8.9954, -23.7168) projected
  line L24 (-0.0046, 36.2832) -> (8.9954, 36.2832) projected
  line L25 (-0.0046, 36.2832) -> (-30.0046, 36.2832) projected
  line L26 (-30.0046, -23.4442) -> (-30.0046, 36.2832) projected
  line L27 (-0.0046, -23.4442) -> (-30.0046, -23.4442) projected
  line L28 (-0.0046, -23.7168) -> (-0.0046, -23.4442) projected
  line L29 (-0.0046, -23.7168) -> (8.9954, -23.7168) projected
  circle A18 centre (4.9954, 1.6156) radius 2.15 projected
  line L30 (-19.6101, -23.4462) -> (-19.6101, 36.2812)
  line L31 (-0.0046, 36.2832) -> (-30.0046, 36.2832) projected
  point P0 (0, 0)
  point P1 (16.9051, 55.1937)
  point P2 (23.478, 55.1937)
  dimension "d59" = 10
extrude "Extrusion11" cut sketch "Esquisse17" against normal blind 52.35 contours L9 L8 L7 L18
sketch "Esquisse18" plane through (11.2, -23.7168, -8.9954) normal (1, 0, 0) x (0, 0, -1)
  circle A0 centre (-10, 23.1304) radius 1 projected
  circle A1 centre (-26, 23.1304) radius 1 projected
  circle A2 centre (-26, 39.1304) radius 1 projected
  circle A3 centre (-10, 31.1304) radius 1 projected
  circle A4 centre (-18, 39.1304) radius 1 projected
  circle A5 centre (-26, 31.1304) radius 1 projected
  circle A6 centre (-18, 23.1304) radius 1 projected
  circle A7 centre (-10, 39.1304) radius 1 projected
  line L0 (0, 60) -> (0, 0) projected
  line L1 (-9, 60) -> (0, 60) projected
  line L2 (-9, 60) -> (-39, 60) projected
  line L3 (-39, 0.2726) -> (-39, 60) projected
  line L4 (-9, 0.2726) -> (-39, 0.2726) projected
  line L5 (-9, 0) -> (-9, 0.2726) projected
  line L6 (-9, 0) -> (0, 0) projected
  circle A8 centre (-4, 25.3324) radius 2.15 projected
  line L7 (-9, 0.2726) -> (-39, 0.2726) projected
  line L8 (-29, 0.2726) -> (-29, 60)
  line L9 (-9, 60) -> (-39, 60) projected
  line L10 (-39, 0.2726) -> (-39, 60) projected
  line L11 (-29, 0.2726) -> (-39, 0.2726)
  line L12 (-39, 0.2726) -> (-39, 60)
  line L13 (-39, 60) -> (-29, 60)
  line L14 (-29, 60) -> (-29, 0.2726)
  point P0 (-8.9954, 23.7168)
  dimension "d62" = 10
extrude "Extrusion12" cut sketch "Esquisse18" against normal blind 41.15 contours L8 L4 L3 L2
sketch "Esquisse19" plane through (15, 0, 0) normal (1, 0, 0) x (0, 0, -1)
  line L0 (-5.813, 46.3829) -> (44.8085, 46.3829)
  line L1 (44.8085, 46.3829) -> (44.8085, 65.2751)
  line L2 (44.8085, 65.2751) -> (-5.813, 65.2751)
  line L3 (-5.813, 65.2751) -> (-5.813, 46.3829)
  point P0 (0, 0)
extrude "Extrusion13" cut sketch "Esquisse19" against normal blind 19
properties part number "support_arret"
